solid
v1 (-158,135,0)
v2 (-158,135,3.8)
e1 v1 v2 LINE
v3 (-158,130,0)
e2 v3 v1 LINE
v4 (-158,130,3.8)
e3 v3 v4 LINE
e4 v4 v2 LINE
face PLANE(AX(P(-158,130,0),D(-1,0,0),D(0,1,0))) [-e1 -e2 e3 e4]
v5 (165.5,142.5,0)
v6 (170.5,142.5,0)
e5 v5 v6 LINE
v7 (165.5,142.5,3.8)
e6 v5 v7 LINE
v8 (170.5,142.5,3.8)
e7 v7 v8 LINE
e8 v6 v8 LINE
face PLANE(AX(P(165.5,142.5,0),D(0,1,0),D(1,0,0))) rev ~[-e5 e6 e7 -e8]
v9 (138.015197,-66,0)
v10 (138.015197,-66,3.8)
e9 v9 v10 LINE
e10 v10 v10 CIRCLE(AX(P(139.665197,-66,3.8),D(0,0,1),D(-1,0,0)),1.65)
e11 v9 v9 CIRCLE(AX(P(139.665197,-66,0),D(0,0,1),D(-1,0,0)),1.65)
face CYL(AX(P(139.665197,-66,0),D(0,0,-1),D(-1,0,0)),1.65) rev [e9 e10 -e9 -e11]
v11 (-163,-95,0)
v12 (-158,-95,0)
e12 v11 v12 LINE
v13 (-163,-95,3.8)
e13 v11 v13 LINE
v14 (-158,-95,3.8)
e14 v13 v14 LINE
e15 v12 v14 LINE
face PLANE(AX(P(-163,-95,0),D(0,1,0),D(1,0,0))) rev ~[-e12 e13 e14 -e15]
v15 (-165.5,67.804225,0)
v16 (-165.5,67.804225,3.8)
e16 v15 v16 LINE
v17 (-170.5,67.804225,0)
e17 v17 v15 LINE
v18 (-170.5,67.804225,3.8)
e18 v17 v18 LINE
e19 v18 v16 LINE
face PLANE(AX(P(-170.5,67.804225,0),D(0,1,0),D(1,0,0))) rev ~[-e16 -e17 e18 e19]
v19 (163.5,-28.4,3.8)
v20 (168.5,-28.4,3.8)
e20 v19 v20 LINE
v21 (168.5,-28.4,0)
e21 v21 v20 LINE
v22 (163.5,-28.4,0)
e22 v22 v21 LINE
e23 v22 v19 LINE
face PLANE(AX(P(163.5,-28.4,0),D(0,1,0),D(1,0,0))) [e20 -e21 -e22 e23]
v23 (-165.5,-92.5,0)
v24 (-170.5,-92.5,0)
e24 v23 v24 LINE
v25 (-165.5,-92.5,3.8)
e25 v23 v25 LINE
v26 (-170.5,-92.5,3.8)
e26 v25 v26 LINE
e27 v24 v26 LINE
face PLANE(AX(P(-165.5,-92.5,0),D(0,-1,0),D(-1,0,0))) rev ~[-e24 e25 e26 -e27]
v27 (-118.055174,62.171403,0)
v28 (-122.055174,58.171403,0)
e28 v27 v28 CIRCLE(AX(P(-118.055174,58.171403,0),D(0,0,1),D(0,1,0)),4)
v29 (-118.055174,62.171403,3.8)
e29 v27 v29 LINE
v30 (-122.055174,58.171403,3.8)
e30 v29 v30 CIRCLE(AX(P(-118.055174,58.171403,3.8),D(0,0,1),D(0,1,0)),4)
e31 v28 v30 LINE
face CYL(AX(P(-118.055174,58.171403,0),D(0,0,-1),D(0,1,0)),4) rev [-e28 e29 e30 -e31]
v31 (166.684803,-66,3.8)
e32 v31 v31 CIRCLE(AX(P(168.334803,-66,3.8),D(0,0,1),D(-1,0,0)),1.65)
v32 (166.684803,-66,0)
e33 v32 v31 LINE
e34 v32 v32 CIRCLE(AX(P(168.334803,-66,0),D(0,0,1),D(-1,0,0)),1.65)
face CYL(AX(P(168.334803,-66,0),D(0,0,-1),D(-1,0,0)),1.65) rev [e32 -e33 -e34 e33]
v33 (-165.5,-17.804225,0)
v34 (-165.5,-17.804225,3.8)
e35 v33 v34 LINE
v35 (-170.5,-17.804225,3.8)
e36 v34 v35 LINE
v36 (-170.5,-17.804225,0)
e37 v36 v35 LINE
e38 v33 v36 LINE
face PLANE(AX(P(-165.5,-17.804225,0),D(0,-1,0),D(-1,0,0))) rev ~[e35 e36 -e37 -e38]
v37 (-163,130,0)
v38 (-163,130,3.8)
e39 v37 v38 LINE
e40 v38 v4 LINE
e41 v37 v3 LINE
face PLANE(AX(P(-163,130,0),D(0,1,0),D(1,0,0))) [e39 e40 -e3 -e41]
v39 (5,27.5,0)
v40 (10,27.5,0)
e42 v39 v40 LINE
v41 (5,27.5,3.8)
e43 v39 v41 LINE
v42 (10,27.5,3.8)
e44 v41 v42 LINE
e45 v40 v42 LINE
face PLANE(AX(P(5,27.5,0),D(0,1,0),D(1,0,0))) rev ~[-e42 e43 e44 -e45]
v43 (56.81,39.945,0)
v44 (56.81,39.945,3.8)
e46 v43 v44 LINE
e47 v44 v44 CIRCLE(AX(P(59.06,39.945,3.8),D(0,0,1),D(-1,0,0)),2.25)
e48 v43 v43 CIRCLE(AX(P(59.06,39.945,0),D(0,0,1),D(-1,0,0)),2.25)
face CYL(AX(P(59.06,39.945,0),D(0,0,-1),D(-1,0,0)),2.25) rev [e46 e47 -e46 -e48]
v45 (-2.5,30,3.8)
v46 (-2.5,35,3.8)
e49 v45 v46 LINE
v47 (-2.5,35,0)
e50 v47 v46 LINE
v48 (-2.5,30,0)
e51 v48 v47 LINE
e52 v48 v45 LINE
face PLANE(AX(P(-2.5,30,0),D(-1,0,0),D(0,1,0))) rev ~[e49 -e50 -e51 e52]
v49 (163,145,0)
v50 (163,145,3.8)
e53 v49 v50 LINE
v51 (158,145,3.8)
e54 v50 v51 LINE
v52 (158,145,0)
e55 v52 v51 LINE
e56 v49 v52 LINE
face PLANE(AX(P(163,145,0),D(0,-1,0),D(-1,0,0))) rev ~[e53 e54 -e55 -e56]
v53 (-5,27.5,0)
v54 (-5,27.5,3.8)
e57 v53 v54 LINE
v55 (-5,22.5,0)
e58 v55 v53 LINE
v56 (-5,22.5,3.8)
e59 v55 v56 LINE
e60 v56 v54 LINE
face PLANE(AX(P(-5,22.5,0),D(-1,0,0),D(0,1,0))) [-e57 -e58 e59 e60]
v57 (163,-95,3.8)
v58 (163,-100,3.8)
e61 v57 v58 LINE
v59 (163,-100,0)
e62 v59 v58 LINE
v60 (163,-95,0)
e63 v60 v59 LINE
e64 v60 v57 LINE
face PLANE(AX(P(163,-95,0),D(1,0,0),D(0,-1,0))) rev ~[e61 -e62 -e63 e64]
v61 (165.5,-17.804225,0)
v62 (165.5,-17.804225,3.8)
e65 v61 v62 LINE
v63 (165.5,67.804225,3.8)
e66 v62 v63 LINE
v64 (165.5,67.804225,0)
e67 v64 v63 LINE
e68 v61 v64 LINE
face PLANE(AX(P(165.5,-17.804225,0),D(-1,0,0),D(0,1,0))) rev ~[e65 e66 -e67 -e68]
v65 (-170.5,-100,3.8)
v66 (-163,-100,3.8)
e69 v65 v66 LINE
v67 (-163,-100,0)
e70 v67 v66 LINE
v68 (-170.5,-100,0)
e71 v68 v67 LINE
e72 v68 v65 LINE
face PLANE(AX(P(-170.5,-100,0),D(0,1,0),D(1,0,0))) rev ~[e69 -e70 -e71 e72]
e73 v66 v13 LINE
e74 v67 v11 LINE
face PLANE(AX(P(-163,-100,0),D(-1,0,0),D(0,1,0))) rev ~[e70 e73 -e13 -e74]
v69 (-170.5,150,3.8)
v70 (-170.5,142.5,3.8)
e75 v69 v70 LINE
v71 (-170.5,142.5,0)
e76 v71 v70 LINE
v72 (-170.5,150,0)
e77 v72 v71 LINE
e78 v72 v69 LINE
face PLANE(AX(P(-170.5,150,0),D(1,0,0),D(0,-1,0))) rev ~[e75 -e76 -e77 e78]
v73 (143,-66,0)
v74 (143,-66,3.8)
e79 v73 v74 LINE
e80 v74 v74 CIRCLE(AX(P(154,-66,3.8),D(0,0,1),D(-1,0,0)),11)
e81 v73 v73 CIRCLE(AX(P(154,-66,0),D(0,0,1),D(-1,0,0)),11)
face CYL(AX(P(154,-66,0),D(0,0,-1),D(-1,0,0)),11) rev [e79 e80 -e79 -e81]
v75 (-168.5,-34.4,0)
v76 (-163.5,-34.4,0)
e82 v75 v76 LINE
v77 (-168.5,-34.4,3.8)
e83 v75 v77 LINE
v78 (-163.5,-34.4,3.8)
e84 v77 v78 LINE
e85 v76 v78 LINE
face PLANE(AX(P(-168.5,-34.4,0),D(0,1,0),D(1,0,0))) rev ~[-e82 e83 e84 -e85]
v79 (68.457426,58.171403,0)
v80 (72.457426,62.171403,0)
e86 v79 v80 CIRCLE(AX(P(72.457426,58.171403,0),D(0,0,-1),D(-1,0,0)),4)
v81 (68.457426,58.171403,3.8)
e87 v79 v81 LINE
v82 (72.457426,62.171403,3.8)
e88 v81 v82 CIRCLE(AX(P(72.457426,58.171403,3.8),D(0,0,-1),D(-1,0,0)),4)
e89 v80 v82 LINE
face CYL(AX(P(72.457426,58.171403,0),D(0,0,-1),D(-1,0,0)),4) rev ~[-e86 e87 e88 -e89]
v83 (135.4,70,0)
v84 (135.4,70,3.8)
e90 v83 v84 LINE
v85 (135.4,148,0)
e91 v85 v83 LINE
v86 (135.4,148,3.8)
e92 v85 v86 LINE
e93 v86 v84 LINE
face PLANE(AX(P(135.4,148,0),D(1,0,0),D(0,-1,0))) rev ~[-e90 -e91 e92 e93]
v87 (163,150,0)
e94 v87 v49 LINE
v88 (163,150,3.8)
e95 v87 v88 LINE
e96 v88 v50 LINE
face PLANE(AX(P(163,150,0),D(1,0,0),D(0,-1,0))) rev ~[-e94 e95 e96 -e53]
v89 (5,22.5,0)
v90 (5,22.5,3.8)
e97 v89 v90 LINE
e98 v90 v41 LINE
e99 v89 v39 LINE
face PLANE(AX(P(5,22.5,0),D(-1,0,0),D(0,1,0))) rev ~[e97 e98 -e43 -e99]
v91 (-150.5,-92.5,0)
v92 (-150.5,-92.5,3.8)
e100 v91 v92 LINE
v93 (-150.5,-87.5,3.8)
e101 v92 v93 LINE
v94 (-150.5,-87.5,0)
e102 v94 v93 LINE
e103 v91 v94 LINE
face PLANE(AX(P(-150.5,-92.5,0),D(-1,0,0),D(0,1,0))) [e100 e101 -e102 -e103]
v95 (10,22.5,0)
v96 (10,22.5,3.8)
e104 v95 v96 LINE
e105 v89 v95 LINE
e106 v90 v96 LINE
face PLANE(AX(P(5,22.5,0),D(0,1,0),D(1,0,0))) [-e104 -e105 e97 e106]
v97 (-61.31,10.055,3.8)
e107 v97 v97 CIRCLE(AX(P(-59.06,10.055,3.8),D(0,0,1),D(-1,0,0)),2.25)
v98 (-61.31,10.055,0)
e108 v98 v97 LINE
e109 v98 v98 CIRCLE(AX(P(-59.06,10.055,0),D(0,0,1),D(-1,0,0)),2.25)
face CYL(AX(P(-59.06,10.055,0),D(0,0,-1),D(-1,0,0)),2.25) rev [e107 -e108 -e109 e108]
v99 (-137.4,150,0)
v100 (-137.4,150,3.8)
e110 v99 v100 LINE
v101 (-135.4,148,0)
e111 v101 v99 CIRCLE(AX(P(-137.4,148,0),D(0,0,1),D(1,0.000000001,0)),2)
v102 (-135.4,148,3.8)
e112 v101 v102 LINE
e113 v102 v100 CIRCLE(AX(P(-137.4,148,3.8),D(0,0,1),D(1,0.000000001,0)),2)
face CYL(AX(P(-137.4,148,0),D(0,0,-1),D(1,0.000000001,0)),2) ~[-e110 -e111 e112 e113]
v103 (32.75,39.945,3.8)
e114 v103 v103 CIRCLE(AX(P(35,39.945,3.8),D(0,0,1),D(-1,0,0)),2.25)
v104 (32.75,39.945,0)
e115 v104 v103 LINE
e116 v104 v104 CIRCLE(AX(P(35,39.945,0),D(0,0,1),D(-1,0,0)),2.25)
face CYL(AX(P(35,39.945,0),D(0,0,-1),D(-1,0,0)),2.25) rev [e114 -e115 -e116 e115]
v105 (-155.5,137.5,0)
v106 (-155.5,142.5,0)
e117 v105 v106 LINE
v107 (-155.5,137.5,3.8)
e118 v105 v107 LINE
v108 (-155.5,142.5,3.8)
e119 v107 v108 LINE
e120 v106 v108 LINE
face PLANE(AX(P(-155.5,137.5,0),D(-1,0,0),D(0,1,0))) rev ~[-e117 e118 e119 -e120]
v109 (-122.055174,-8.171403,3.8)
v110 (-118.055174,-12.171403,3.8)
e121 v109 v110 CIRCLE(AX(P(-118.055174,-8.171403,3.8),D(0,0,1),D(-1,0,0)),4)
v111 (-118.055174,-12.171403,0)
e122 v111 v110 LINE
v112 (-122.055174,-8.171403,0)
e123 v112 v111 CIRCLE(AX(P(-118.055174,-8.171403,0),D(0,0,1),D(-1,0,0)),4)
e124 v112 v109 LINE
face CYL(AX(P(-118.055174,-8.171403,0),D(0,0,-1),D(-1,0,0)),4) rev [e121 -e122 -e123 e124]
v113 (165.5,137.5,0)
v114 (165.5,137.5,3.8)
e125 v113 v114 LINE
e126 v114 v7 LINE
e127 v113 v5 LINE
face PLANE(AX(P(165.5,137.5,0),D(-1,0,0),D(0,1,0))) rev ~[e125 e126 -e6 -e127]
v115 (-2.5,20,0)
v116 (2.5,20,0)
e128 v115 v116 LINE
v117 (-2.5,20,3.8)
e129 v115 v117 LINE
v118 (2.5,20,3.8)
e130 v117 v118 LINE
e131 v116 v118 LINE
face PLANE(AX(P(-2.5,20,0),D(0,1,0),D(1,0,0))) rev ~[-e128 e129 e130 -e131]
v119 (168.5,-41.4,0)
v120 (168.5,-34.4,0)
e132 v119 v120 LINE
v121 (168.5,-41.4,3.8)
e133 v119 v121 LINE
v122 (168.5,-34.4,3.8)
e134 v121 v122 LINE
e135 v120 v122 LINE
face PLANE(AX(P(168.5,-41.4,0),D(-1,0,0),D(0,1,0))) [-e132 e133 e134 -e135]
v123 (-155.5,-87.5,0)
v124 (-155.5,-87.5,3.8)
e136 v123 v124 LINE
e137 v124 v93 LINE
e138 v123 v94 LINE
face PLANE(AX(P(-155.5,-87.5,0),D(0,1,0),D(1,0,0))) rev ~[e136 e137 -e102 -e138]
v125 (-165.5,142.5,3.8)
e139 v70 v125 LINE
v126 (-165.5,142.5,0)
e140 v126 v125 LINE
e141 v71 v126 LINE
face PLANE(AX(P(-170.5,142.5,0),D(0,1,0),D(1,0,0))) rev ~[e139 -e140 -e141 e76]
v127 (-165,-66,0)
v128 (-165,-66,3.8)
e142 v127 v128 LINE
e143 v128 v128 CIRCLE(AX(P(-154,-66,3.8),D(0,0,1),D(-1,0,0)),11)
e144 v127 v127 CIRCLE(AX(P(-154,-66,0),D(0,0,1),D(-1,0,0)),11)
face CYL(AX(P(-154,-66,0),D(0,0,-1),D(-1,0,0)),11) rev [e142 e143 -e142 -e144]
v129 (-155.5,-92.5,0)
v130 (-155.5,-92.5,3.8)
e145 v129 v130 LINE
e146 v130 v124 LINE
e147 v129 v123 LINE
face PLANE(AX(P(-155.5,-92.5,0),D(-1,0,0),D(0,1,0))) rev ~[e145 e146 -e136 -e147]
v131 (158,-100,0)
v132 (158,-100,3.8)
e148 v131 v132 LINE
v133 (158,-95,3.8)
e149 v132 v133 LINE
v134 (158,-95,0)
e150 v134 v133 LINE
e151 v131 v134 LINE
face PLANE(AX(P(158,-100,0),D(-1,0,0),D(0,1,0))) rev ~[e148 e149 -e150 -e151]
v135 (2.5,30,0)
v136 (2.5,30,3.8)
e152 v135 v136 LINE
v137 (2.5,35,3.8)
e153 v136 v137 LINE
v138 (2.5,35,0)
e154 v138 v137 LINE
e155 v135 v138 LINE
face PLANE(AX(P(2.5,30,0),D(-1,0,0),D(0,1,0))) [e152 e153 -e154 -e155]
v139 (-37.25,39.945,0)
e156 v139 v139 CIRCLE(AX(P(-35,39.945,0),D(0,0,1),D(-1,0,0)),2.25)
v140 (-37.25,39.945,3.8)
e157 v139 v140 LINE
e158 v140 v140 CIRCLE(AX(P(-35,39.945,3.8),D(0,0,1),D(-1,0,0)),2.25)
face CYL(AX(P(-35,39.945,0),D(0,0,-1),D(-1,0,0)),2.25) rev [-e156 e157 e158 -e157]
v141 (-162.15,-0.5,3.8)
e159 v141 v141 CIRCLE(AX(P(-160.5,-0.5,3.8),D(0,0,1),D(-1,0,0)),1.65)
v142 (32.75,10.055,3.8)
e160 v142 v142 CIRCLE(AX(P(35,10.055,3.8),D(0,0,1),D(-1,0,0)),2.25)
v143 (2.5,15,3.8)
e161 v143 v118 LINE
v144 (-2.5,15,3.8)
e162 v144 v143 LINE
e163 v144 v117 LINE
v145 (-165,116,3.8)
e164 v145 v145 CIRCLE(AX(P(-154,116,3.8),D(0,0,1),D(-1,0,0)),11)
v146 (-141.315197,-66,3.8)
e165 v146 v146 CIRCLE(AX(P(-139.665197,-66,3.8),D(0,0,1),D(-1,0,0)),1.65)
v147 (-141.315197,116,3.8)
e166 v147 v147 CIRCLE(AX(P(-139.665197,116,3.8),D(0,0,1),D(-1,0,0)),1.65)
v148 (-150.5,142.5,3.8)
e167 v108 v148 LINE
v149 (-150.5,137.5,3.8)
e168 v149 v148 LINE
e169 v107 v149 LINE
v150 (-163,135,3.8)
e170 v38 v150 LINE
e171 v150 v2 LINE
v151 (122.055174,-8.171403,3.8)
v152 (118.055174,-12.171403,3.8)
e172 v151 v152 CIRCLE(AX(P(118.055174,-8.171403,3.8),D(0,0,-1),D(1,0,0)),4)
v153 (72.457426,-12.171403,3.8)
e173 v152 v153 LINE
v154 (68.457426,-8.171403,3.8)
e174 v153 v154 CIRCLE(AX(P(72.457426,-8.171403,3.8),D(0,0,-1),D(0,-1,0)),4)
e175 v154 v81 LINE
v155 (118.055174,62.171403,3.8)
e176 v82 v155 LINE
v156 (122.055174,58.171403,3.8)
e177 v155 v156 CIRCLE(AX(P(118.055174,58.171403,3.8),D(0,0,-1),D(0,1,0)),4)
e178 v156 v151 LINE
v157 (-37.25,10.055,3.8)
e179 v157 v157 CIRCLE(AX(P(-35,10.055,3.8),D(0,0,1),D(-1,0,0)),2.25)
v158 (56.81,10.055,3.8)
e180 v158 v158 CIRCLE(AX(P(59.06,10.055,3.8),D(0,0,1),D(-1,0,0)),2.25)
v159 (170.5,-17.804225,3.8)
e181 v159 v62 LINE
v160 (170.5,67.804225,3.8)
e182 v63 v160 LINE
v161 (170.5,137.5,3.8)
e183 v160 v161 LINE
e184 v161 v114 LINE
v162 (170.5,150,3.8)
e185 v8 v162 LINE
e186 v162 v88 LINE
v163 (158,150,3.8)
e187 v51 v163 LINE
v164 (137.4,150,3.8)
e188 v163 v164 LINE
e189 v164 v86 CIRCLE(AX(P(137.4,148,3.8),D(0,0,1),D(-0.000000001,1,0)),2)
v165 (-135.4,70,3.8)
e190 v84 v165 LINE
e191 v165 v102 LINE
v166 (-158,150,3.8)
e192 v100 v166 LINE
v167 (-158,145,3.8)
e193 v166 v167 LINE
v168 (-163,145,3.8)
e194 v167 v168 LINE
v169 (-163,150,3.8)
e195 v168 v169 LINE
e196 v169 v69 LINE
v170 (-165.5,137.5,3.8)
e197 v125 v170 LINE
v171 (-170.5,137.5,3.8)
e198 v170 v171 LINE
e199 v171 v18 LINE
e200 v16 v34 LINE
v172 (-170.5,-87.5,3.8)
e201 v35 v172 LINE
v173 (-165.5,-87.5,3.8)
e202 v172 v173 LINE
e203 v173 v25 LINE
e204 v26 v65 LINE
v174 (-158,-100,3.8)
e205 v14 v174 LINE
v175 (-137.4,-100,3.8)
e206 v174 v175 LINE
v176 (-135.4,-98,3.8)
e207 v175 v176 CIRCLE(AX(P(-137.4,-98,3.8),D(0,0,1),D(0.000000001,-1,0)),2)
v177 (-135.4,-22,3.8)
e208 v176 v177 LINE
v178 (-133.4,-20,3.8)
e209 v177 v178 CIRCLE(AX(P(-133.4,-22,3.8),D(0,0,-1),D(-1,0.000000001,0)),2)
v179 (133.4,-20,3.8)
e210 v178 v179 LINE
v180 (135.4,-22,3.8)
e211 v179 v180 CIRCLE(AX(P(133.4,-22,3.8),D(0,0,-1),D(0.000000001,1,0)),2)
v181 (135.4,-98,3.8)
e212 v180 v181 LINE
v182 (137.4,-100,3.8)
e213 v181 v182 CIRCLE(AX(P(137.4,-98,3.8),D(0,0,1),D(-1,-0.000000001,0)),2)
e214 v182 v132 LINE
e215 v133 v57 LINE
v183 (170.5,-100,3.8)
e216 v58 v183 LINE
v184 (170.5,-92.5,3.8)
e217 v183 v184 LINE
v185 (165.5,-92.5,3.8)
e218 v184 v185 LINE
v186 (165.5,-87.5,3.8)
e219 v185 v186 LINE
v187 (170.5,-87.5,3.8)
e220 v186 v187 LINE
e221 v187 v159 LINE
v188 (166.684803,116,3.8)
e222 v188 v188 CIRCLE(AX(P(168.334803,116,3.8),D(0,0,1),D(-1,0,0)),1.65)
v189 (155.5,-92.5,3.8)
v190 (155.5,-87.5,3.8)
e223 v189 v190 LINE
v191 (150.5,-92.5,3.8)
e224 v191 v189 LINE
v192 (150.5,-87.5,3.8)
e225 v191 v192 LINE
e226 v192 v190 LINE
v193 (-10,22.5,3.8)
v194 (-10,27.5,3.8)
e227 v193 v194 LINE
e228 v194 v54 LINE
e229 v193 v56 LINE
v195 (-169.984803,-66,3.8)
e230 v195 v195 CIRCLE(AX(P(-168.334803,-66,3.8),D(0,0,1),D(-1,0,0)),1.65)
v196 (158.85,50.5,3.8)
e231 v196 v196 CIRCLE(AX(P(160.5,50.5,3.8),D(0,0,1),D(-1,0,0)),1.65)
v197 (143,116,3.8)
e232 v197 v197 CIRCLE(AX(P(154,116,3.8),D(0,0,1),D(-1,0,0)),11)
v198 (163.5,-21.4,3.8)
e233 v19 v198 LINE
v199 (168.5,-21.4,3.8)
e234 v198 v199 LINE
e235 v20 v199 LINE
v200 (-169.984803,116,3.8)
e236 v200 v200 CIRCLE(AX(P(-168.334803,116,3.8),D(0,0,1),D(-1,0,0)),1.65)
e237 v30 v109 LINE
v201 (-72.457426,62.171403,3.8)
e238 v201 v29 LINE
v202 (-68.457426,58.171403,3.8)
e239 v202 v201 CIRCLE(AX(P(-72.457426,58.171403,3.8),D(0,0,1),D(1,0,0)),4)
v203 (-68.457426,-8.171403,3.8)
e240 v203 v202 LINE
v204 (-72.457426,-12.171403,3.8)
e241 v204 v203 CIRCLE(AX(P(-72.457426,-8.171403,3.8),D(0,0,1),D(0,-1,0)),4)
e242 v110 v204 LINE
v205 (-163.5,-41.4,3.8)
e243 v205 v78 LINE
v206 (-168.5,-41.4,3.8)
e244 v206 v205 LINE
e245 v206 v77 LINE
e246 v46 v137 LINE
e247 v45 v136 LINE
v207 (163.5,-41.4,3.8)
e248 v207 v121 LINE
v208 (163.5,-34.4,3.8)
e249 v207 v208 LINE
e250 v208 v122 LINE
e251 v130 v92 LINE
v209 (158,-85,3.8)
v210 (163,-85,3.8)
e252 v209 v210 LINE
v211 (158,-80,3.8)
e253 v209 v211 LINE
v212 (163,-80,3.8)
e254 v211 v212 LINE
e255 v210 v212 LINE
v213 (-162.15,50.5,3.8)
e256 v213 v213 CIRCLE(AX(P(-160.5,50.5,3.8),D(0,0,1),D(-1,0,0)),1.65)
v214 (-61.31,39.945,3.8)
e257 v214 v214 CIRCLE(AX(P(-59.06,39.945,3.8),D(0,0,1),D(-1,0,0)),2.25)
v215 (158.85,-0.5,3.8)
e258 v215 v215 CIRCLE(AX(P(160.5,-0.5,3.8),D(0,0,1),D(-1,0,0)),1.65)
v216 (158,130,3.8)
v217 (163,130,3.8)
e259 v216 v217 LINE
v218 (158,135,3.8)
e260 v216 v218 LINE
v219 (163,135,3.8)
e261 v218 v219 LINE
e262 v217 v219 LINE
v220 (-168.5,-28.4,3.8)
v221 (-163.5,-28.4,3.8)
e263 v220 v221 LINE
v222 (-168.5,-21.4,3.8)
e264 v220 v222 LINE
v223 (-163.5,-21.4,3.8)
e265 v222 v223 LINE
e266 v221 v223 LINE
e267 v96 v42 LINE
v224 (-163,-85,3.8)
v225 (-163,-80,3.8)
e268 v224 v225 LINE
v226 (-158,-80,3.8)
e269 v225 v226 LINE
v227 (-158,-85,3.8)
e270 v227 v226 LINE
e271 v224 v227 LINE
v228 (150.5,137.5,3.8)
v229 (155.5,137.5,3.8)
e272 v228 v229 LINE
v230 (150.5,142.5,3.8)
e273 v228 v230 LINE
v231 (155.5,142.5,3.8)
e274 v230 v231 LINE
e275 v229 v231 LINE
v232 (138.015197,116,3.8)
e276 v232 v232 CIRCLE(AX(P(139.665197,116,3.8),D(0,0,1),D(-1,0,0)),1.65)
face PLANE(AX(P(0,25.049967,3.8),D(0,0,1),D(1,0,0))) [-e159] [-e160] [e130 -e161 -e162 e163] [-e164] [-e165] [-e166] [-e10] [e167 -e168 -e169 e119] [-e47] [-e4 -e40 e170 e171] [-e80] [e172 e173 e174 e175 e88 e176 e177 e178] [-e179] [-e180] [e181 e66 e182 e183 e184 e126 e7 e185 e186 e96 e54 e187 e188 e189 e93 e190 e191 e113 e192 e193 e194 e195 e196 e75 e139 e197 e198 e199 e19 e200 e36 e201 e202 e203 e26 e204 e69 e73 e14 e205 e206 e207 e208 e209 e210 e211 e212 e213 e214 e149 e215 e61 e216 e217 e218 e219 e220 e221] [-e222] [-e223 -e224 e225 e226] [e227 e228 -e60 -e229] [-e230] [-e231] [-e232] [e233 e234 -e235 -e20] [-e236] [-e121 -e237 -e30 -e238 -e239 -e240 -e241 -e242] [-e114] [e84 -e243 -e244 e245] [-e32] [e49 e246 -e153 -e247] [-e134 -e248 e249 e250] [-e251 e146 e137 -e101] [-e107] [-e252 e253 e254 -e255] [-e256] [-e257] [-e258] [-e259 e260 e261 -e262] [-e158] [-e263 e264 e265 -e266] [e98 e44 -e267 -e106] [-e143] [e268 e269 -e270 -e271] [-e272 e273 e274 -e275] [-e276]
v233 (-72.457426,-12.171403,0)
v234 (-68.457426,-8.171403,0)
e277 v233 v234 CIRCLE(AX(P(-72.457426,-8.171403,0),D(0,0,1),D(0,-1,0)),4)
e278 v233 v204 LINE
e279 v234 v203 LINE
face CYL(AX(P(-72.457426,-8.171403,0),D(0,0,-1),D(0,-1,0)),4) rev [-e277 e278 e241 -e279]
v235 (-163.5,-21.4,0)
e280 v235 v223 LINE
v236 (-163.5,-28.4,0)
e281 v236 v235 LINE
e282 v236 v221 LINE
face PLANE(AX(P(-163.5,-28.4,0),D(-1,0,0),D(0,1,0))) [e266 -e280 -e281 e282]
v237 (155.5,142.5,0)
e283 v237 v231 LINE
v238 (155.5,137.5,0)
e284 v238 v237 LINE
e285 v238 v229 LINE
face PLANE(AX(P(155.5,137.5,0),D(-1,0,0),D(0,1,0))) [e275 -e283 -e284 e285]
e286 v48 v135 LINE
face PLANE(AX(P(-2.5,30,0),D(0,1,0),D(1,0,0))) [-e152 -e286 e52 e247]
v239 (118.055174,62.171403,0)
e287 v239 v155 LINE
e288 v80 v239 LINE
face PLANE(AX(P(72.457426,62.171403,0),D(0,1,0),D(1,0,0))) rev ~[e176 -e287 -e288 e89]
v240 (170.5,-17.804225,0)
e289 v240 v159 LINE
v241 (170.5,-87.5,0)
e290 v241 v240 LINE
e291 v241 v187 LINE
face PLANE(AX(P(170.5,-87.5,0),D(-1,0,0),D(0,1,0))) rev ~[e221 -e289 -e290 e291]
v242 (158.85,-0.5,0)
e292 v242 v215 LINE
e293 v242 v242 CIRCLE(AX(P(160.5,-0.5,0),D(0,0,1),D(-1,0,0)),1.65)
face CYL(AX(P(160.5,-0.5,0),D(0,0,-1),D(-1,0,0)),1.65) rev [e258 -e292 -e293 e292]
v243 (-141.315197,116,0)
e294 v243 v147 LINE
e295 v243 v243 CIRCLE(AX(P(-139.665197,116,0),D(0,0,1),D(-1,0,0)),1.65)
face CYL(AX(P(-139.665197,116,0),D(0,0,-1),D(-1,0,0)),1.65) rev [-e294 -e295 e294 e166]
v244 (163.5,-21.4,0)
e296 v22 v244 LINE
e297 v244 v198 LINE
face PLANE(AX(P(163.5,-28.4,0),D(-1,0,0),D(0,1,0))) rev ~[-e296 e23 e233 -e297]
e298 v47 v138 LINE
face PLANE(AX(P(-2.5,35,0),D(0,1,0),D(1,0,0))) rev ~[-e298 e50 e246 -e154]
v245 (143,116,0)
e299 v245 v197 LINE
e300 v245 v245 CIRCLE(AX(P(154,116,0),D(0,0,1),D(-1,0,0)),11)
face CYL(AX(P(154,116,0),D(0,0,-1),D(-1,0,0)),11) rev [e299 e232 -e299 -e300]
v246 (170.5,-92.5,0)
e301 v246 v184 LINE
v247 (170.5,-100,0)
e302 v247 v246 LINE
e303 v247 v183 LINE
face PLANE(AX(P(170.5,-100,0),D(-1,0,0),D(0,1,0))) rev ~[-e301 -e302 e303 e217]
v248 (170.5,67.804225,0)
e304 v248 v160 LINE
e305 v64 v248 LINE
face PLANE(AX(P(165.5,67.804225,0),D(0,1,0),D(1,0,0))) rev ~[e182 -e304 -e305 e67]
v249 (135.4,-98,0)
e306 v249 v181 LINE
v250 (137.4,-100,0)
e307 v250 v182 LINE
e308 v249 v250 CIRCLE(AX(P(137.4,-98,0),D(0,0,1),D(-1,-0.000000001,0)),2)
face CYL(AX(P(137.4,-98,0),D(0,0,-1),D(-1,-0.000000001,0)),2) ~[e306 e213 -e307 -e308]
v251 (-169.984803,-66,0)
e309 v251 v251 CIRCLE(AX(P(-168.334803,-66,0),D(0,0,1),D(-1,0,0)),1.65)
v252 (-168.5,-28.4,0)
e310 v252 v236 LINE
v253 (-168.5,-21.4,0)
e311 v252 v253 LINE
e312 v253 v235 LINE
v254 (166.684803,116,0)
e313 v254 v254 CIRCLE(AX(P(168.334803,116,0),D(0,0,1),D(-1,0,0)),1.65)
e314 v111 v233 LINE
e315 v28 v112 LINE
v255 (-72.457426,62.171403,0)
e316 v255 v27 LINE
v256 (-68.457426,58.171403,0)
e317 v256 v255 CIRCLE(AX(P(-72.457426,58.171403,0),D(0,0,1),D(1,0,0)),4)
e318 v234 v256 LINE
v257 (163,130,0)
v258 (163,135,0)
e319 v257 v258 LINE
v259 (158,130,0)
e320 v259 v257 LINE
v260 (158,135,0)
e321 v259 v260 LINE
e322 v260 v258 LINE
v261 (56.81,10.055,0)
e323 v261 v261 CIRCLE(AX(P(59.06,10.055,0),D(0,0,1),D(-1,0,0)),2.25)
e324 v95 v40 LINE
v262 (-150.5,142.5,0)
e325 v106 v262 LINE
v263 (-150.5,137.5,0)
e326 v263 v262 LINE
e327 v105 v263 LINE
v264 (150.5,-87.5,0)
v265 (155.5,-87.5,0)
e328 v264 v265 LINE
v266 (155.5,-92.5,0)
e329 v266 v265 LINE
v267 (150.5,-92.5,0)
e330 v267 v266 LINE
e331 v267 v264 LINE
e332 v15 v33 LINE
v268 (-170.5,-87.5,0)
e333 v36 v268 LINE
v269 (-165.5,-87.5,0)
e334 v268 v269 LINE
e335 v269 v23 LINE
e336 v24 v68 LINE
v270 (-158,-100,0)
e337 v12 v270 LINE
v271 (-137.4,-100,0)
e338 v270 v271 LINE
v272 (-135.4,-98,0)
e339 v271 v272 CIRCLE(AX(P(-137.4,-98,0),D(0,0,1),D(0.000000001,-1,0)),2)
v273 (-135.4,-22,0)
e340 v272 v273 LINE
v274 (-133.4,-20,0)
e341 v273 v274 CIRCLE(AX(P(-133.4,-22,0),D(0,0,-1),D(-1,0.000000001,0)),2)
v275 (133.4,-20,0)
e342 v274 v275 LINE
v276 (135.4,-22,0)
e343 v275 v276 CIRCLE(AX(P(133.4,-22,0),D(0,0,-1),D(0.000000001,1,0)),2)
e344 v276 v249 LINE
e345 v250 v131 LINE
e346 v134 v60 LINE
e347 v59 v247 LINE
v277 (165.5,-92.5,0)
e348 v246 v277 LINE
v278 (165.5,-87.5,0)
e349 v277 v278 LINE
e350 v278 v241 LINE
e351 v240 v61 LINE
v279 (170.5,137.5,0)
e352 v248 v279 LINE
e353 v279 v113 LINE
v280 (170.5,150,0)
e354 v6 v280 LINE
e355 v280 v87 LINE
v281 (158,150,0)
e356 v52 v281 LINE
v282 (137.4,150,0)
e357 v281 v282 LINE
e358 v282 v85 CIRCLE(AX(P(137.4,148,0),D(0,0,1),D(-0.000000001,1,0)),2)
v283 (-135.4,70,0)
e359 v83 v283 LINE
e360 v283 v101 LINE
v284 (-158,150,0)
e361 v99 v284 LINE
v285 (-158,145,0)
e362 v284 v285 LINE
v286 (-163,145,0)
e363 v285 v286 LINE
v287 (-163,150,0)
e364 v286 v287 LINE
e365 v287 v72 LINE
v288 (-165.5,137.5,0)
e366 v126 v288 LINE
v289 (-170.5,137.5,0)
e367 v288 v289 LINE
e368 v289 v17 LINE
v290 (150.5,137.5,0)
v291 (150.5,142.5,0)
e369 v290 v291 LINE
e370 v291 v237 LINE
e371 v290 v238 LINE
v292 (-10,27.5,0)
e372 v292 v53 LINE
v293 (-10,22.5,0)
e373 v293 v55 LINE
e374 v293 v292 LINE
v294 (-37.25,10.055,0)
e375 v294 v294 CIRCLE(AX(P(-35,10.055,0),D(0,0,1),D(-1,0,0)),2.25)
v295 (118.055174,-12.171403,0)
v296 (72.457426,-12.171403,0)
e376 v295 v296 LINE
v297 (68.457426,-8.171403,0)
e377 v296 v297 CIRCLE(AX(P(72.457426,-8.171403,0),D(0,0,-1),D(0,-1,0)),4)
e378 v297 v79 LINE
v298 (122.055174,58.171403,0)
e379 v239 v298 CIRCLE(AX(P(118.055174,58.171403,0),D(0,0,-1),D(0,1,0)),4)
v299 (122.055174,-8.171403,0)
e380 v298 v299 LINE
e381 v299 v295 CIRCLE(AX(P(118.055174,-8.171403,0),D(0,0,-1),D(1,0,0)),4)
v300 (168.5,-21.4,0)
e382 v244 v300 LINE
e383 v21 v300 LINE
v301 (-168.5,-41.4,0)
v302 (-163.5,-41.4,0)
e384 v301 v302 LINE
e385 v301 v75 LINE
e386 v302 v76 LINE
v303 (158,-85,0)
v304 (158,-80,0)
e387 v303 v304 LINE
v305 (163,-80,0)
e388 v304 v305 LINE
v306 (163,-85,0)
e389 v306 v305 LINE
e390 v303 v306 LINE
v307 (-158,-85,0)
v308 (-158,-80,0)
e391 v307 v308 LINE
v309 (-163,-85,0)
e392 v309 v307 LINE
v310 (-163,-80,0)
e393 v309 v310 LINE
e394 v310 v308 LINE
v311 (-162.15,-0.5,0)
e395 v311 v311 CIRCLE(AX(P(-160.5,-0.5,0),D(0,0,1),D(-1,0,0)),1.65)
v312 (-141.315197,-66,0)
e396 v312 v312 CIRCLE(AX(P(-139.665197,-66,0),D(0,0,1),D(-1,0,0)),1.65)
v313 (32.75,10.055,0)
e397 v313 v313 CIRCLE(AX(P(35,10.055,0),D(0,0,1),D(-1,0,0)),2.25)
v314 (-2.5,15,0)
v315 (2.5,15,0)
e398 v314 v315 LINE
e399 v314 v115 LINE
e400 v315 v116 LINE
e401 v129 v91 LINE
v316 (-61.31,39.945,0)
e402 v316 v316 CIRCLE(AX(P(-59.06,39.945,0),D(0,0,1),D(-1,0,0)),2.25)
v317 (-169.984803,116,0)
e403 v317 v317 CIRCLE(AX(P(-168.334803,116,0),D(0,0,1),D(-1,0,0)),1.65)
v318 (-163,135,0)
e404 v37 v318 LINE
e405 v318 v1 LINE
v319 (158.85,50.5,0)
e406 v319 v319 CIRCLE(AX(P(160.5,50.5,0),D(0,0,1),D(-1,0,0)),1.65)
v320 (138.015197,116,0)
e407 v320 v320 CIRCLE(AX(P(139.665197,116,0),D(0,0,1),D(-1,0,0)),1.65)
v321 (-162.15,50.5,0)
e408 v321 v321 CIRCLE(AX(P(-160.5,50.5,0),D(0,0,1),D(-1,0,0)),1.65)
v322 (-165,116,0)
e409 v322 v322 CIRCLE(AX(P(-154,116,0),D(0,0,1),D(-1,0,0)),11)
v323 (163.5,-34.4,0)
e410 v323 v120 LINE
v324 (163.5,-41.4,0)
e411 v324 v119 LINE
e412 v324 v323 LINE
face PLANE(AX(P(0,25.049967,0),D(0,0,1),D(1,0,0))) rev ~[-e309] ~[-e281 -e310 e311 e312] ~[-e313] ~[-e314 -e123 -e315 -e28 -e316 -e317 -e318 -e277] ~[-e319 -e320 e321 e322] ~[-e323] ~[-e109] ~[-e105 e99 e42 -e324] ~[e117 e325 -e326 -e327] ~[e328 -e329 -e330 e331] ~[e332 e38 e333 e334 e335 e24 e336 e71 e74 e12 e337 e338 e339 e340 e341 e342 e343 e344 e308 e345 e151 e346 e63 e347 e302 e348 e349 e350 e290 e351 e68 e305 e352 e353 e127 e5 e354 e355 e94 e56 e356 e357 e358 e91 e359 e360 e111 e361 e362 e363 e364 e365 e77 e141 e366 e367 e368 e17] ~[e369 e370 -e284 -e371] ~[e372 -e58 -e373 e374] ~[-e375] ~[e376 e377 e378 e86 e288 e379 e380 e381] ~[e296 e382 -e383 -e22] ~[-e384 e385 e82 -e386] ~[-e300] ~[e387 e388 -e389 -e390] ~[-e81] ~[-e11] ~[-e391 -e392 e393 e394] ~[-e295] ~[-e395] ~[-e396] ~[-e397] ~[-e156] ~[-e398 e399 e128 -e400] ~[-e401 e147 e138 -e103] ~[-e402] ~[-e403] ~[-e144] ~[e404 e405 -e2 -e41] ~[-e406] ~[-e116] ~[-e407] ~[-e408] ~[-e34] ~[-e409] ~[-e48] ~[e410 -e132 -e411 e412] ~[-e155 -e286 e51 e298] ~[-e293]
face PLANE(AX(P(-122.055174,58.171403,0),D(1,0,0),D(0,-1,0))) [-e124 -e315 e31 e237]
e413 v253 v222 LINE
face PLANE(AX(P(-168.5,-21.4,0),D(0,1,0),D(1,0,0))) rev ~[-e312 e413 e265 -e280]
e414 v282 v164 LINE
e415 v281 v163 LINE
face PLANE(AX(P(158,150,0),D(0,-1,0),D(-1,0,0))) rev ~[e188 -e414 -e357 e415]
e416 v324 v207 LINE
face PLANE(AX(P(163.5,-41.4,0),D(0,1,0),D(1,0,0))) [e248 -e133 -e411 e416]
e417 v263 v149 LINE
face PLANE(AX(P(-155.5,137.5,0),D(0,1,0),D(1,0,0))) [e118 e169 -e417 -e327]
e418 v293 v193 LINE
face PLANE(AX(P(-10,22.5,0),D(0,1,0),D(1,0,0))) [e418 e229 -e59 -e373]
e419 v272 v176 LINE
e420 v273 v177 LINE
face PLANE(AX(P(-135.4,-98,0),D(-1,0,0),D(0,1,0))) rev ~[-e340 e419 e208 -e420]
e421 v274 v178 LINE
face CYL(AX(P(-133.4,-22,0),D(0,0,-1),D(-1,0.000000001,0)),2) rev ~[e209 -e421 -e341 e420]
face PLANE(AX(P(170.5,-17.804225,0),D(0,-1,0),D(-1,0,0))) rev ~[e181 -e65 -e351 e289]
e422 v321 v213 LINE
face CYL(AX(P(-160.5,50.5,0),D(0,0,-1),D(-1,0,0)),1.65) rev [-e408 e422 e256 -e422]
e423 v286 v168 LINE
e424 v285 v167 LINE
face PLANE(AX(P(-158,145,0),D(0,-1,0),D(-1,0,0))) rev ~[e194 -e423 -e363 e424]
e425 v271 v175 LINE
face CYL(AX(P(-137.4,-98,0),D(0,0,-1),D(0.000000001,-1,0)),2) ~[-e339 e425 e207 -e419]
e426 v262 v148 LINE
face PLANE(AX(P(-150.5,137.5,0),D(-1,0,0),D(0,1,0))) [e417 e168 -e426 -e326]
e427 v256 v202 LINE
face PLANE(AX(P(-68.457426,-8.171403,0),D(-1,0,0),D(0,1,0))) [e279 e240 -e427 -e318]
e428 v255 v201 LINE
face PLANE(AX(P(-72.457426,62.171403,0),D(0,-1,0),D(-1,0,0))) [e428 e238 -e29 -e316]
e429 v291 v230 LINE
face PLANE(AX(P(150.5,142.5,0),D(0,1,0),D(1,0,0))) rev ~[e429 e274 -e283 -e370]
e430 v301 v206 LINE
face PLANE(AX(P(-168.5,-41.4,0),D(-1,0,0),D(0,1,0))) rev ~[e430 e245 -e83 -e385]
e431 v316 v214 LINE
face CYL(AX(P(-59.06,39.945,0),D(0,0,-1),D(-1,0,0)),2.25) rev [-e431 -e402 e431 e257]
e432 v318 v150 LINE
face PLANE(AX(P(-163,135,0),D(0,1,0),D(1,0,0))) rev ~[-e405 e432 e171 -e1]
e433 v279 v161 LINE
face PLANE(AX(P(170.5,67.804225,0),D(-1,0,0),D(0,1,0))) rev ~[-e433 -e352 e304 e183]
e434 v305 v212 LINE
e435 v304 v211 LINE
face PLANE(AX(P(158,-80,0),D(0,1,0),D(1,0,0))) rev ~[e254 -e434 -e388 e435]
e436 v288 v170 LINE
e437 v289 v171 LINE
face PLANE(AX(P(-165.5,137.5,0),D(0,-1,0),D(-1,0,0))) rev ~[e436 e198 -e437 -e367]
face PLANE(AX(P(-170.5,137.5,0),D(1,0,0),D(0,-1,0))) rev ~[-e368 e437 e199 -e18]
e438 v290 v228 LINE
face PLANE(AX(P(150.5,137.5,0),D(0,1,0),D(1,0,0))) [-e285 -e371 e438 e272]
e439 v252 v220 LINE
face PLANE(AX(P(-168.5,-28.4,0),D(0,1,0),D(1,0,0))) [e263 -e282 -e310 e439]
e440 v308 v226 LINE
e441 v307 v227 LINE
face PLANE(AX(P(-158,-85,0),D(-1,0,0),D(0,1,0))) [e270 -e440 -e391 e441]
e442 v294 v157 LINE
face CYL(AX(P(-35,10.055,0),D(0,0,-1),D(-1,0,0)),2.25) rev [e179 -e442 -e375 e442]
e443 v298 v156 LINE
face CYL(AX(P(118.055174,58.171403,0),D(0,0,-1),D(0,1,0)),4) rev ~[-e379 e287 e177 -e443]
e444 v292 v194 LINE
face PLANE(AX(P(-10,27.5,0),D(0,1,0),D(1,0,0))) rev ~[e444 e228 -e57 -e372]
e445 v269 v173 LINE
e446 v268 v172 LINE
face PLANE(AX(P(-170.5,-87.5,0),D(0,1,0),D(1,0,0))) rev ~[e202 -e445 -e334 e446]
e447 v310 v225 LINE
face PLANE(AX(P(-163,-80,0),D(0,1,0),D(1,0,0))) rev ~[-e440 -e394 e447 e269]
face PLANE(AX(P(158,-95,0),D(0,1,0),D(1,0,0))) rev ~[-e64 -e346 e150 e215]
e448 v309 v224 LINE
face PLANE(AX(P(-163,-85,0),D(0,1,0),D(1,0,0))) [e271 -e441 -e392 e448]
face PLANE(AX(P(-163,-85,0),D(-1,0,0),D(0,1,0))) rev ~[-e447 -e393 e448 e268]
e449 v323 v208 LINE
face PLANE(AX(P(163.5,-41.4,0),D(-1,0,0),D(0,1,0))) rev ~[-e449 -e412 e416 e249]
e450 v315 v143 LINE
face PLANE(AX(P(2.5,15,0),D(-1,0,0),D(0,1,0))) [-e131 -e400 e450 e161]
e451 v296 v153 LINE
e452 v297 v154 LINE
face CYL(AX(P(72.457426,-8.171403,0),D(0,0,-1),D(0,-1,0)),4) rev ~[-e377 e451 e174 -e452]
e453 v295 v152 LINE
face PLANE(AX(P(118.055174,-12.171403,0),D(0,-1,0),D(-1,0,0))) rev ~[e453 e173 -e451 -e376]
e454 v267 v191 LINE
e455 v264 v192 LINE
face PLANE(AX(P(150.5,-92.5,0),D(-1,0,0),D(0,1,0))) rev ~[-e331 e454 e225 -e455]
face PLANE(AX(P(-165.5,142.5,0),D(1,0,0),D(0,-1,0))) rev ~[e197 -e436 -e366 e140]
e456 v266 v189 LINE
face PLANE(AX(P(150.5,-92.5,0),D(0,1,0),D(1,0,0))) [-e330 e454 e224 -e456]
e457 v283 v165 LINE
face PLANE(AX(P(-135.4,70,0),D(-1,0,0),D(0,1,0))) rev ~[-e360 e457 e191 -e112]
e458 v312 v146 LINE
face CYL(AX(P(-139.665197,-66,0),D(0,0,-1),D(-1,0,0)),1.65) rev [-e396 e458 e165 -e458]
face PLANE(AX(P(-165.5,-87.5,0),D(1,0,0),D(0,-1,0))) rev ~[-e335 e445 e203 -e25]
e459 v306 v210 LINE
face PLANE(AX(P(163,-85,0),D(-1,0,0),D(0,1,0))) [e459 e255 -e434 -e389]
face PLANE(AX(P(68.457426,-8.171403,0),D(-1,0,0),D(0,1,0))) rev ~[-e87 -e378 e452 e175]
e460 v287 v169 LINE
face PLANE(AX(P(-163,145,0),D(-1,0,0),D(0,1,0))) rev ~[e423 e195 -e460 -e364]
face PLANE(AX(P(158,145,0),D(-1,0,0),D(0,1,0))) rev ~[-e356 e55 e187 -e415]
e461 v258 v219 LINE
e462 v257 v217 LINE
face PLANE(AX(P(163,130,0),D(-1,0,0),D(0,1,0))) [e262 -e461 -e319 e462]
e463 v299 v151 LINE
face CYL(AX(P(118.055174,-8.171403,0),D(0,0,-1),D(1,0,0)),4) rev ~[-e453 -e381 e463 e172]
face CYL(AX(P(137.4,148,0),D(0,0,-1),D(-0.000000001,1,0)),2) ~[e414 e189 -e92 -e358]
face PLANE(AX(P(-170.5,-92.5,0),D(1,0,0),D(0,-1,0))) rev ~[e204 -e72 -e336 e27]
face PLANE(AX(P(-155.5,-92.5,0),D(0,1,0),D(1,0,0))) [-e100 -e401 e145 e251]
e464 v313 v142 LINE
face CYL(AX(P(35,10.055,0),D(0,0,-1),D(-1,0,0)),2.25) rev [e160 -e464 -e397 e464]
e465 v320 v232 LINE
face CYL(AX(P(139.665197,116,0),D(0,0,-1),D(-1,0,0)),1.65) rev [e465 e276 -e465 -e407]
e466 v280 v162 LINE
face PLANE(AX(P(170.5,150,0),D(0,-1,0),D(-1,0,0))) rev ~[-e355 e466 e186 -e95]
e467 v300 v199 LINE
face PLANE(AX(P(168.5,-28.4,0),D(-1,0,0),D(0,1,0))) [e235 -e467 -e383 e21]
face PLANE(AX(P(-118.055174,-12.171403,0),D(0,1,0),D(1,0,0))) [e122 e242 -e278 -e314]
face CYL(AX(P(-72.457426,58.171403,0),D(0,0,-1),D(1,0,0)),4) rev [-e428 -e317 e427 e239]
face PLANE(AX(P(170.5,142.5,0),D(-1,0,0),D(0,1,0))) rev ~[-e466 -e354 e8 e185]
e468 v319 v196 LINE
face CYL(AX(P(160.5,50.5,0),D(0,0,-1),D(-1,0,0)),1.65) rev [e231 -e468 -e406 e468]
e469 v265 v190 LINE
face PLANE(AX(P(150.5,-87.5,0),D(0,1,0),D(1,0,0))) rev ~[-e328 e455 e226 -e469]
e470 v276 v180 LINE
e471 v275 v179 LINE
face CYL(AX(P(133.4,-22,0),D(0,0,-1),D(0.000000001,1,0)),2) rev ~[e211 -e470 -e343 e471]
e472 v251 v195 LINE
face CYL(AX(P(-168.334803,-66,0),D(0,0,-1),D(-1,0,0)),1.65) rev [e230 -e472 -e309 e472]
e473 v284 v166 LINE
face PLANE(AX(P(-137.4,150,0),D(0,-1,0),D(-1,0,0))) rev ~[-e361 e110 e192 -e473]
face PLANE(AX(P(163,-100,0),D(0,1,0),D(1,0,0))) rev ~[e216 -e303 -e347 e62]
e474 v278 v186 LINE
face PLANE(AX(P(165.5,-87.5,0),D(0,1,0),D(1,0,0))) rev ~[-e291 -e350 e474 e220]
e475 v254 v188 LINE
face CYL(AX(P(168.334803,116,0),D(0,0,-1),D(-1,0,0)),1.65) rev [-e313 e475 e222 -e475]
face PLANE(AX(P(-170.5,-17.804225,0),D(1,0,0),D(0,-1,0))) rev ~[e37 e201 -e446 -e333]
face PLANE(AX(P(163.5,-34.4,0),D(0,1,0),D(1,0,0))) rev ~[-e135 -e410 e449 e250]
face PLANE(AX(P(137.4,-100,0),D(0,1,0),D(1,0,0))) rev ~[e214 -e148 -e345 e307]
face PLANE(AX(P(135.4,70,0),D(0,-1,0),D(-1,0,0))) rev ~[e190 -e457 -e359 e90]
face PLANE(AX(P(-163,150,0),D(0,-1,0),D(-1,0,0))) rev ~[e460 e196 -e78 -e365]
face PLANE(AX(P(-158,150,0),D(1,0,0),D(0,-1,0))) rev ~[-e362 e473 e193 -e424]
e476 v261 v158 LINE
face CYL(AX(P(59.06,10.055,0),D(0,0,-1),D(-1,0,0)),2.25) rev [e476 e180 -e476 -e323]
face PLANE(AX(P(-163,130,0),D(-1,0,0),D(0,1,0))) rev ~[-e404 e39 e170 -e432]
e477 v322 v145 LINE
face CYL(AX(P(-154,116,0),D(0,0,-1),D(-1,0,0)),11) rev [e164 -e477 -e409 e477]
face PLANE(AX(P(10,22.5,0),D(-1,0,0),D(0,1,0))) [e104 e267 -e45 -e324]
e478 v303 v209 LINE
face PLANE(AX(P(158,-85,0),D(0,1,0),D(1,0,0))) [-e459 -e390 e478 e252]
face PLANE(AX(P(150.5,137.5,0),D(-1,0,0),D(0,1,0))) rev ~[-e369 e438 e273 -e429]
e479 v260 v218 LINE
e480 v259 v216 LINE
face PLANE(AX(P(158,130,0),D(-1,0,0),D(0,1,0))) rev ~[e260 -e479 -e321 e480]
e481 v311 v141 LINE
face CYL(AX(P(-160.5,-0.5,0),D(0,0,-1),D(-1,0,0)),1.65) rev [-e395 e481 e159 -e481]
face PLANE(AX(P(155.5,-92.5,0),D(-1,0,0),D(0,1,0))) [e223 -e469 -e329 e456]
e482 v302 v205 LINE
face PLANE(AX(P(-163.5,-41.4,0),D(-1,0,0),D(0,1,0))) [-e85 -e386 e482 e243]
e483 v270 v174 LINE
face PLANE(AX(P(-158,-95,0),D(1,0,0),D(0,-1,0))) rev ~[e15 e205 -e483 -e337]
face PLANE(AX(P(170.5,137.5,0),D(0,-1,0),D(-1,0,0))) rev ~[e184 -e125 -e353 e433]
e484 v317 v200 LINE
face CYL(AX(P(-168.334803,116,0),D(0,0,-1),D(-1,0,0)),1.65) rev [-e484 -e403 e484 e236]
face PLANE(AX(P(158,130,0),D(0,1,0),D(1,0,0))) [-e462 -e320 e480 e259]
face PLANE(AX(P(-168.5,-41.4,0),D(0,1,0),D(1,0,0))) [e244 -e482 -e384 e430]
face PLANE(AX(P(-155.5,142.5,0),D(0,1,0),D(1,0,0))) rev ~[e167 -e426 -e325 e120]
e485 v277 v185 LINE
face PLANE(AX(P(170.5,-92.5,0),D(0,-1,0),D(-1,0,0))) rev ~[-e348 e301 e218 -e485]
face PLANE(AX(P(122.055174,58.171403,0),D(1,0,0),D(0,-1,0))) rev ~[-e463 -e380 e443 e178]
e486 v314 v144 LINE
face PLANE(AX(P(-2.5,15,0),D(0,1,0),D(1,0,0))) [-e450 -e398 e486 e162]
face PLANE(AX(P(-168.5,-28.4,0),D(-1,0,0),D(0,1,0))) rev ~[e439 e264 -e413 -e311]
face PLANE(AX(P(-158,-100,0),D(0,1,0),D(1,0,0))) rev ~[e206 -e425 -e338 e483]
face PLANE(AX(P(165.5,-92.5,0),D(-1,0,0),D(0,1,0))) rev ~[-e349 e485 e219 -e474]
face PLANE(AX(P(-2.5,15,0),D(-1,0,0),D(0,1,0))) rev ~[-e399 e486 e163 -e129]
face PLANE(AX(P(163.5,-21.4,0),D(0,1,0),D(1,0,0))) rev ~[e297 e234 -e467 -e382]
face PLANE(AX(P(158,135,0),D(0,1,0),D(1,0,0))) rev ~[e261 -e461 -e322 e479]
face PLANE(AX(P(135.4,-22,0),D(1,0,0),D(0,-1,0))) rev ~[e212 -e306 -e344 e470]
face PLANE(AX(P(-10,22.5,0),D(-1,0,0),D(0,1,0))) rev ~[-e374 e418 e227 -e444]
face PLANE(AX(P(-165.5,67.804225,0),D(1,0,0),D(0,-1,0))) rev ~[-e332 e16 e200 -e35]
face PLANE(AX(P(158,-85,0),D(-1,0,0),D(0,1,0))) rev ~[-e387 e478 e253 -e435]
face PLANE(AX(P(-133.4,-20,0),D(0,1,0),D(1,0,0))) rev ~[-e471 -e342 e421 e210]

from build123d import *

# Parameters (mm, degrees)
SKETCH2_R           = 1.65
SKETCH2_R_2         = 11
SKETCH2_R_3         = 2.25
SKETCH2_W           = 5
SKETCH2_H           = 5
SKETCH2_H_2         = 7
BOSS_EXTRUDE1_DEPTH = 3.8


with BuildPart() as part:
    # Sketch2 → Boss-Extrude1 (new body)
    with BuildSketch(Plane.XY):
        with BuildLine():
            Line((-170.5, -100), (-163, -100))
            Line((-163, -100), (-163, -95))
            Line((-163, -95), (-158, -95))
            Line((-158, -95), (-158, -100))
            Line((-158, -100), (-137.4, -100))
            ThreePointArc((-137.4, -100), (-135.985786438, -99.414213562), (-135.4, -98))
            Line((-135.4, -98), (-135.4, -22))
            ThreePointArc((-135.4, -22), (-134.814213562, -20.585786438), (-133.4, -20))
            Line((-133.4, -20), (133.4, -20))
            ThreePointArc((133.4, -20), (134.814213562, -20.585786438), (135.4, -22))
            Line((135.4, -22), (135.4, -98))
            ThreePointArc((135.4, -98), (135.985786438, -99.414213562), (137.4, -100))
            Line((137.4, -100), (158, -100))
            Line((158, -100), (158, -95))
            Line((158, -95), (163, -95))
            Line((163, -95), (163, -100))
            Line((163, -100), (170.5, -100))
            Line((170.5, -100), (170.5, -92.5))
            Line((170.5, -92.5), (165.5, -92.5))
            Line((165.5, -92.5), (165.5, -87.5))
            Line((165.5, -87.5), (170.5, -87.5))
            Line((170.5, -87.5), (170.5, -17.8042249))
            Line((170.5, -17.8042249), (165.5, -17.8042249))
            Line((165.5, -17.8042249), (165.5, 67.8042249))
            Line((165.5, 67.8042249), (170.5, 67.8042249))
            Line((170.5, 67.8042249), (170.5, 137.5))
            Line((170.5, 137.5), (165.5, 137.5))
            Line((165.5, 137.5), (165.5, 142.5))
            Line((165.5, 142.5), (170.5, 142.5))
            Line((170.5, 142.5), (170.5, 150))
            Line((170.5, 150), (163, 150))
            Line((163, 150), (163, 145))
            Line((163, 145), (158, 145))
            Line((158, 145), (158, 150))
            Line((158, 150), (137.4, 150))
            ThreePointArc((137.4, 150), (135.985786438, 149.414213562), (135.4, 148))
            Line((135.4, 148), (135.4, 70))
            Line((135.4, 70), (-135.4, 70))
            Line((-135.4, 70), (-135.4, 148))
            ThreePointArc((-135.4, 148), (-135.985786438, 149.414213562), (-137.4, 150))
            Line((-137.4, 150), (-158, 150))
            Line((-158, 150), (-158, 145))
            Line((-158, 145), (-163, 145))
            Line((-163, 145), (-163, 150))
            Line((-163, 150), (-170.5, 150))
            Line((-170.5, 150), (-170.5, 142.5))
            Line((-170.5, 142.5), (-165.5, 142.5))
            Line((-165.5, 142.5), (-165.5, 137.5))
            Line((-165.5, 137.5), (-170.5, 137.5))
            Line((-170.5, 137.5), (-170.5, 67.8042249))
            Line((-170.5, 67.8042249), (-165.5, 67.8042249))
            Line((-165.5, 67.8042249), (-165.5, -17.8042249))
            Line((-165.5, -17.8042249), (-170.5, -17.8042249))
            Line((-170.5, -17.8042249), (-170.5, -87.5))
            Line((-170.5, -87.5), (-165.5, -87.5))
            Line((-165.5, -87.5), (-165.5, -92.5))
            Line((-165.5, -92.5), (-170.5, -92.5))
            Line((-170.5, -92.5), (-170.5, -100))
        make_face()
        with Locations(Location((-168.334802826, 116, 0), (0, 0, 180))):
            Circle(SKETCH2_R, mode=Mode.SUBTRACT)
        with Locations(Location((-139.665197174, 116, 0), (0, 0, 180))):
            Circle(SKETCH2_R, mode=Mode.SUBTRACT)
        with Locations(Location((168.334802826, 116, 0), (0, 0, 180))):
            Circle(SKETCH2_R, mode=Mode.SUBTRACT)
        with Locations(Location((139.665197174, 116, 0), (0, 0, 180))):
            Circle(SKETCH2_R, mode=Mode.SUBTRACT)
        with Locations(Location((154, 116, 0), (0, 0, 180))):
            Circle(SKETCH2_R_2, mode=Mode.SUBTRACT)
        with Locations(Location((-154, 116, 0), (0, 0, 180))):
            Circle(SKETCH2_R_2, mode=Mode.SUBTRACT)
        with Locations(Location((160.5, -0.5, 0), (0, 0, 180))):
            Circle(SKETCH2_R, mode=Mode.SUBTRACT)
        with Locations(Location((160.5, 50.5, 0), (0, 0, 180))):
            Circle(SKETCH2_R, mode=Mode.SUBTRACT)
        with Locations(Location((-160.5, -0.5, 0), (0, 0, 180))):
            Circle(SKETCH2_R, mode=Mode.SUBTRACT)
        with Locations(Location((-160.5, 50.5, 0), (0, 0, 180))):
            Circle(SKETCH2_R, mode=Mode.SUBTRACT)
        with Locations(Location((-35, 10.055, 0), (0, 0, 180))):
            Circle(SKETCH2_R_3, mode=Mode.SUBTRACT)
        with Locations(Location((-35, 39.945, 0), (0, 0, 180))):
            Circle(SKETCH2_R_3, mode=Mode.SUBTRACT)
        with Locations(Location((-59.06, 39.945, 0), (0, 0, 180))):
            Circle(SKETCH2_R_3, mode=Mode.SUBTRACT)
        with Locations(Location((-59.06, 10.055, 0), (0, 0, 180))):
            Circle(SKETCH2_R_3, mode=Mode.SUBTRACT)
        with Locations(Location((59.06, 10.055, 0), (0, 0, 180))):
            Circle(SKETCH2_R_3, mode=Mode.SUBTRACT)
        with Locations(Location((35, 10.055, 0), (0, 0, 180))):
            Circle(SKETCH2_R_3, mode=Mode.SUBTRACT)
        with Locations(Location((35, 39.945, 0), (0, 0, 180))):
            Circle(SKETCH2_R_3, mode=Mode.SUBTRACT)
        with Locations(Location((59.06, 39.945, 0), (0, 0, 180))):
            Circle(SKETCH2_R_3, mode=Mode.SUBTRACT)
        with Locations(Location((168.334802826, -66, 0), (0, 0, 180))):
            Circle(SKETCH2_R, mode=Mode.SUBTRACT)
        with Locations(Location((139.665197174, -66, 0), (0, 0, 180))):
            Circle(SKETCH2_R, mode=Mode.SUBTRACT)
        with Locations(Location((154, -66, 0), (0, 0, 180))):
            Circle(SKETCH2_R_2, mode=Mode.SUBTRACT)
        with Locations(Location((-154, -66, 0), (0, 0, 180))):
            Circle(SKETCH2_R_2, mode=Mode.SUBTRACT)
        with Locations(Location((-139.665197174, -66, 0), (0, 0, 180))):
            Circle(SKETCH2_R, mode=Mode.SUBTRACT)
        with Locations(Location((-168.334802826, -66, 0), (0, 0, 180))):
            Circle(SKETCH2_R, mode=Mode.SUBTRACT)
        with BuildLine():
            Line((-72.45742566, 62.171403079), (-118.05517368, 62.171403079))
            ThreePointArc((-118.05517368, 62.171403079), (-120.883600805, 60.999830204), (-122.05517368, 58.171403079))
            Line((-122.05517368, 58.171403079), (-122.05517368, -8.171403079))
            ThreePointArc((-122.05517368, -8.171403079), (-120.883600805, -10.999830204), (-118.05517368, -12.171403079))
            Line((-118.05517368, -12.171403079), (-72.45742566, -12.171403079))
            ThreePointArc((-72.45742566, -12.171403079), (-69.628998535, -10.999830204), (-68.45742566, -8.171403079))
            Line((-68.45742566, -8.171403079), (-68.45742566, 58.171403079))
            ThreePointArc((-68.45742566, 58.171403079), (-69.628998535, 60.999830204), (-72.45742566, 62.171403079))
        make_face(mode=Mode.SUBTRACT)
        with BuildLine():
            Line((72.45742566, 62.171403079), (118.05517368, 62.171403079))
            ThreePointArc((118.05517368, 62.171403079), (120.883600805, 60.999830204), (122.05517368, 58.171403079))
            Line((122.05517368, 58.171403079), (122.05517368, -8.171403079))
            ThreePointArc((122.05517368, -8.171403079), (120.883600805, -10.999830204), (118.05517368, -12.171403079))
            Line((118.05517368, -12.171403079), (72.45742566, -12.171403079))
            ThreePointArc((72.45742566, -12.171403079), (69.628998535, -10.999830204), (68.45742566, -8.171403079))
            Line((68.45742566, -8.171403079), (68.45742566, 58.171403079))
            ThreePointArc((68.45742566, 58.171403079), (69.628998535, 60.999830204), (72.45742566, 62.171403079))
        make_face(mode=Mode.SUBTRACT)
        with Locations((0, 17.5)):
            Rectangle(SKETCH2_W, SKETCH2_H, mode=Mode.SUBTRACT)
        with Locations((-7.5, 25)):
            Rectangle(SKETCH2_W, SKETCH2_H, mode=Mode.SUBTRACT)
        with Locations((0, 32.5)):
            Rectangle(SKETCH2_W, SKETCH2_H, mode=Mode.SUBTRACT)
        with Locations((7.5, 25)):
            Rectangle(SKETCH2_W, SKETCH2_H, mode=Mode.SUBTRACT)
        with Locations((153, -90)):
            Rectangle(SKETCH2_W, SKETCH2_H, mode=Mode.SUBTRACT)
        with Locations((160.5, -82.5)):
            Rectangle(SKETCH2_W, SKETCH2_H, mode=Mode.SUBTRACT)
        with Locations((-153, -90)):
            Rectangle(SKETCH2_W, SKETCH2_H, mode=Mode.SUBTRACT)
        with Locations((-160.5, -82.5)):
            Rectangle(SKETCH2_W, SKETCH2_H, mode=Mode.SUBTRACT)
        with Locations((160.5, 132.5)):
            Rectangle(SKETCH2_W, SKETCH2_H, mode=Mode.SUBTRACT)
        with Locations((153, 140)):
            Rectangle(SKETCH2_W, SKETCH2_H, mode=Mode.SUBTRACT)
        with Locations((-160.5, 132.5)):
            Rectangle(SKETCH2_W, SKETCH2_H, mode=Mode.SUBTRACT)
        with Locations((-153, 140)):
            Rectangle(SKETCH2_W, SKETCH2_H, mode=Mode.SUBTRACT)
        with Locations((-166, -24.9)):
            Rectangle(SKETCH2_W, SKETCH2_H_2, mode=Mode.SUBTRACT)
        with Locations((-166, -37.9)):
            Rectangle(SKETCH2_W, SKETCH2_H_2, mode=Mode.SUBTRACT)
        with Locations((166, -24.9)):
            Rectangle(SKETCH2_W, SKETCH2_H_2, mode=Mode.SUBTRACT)
        with Locations((166, -37.9)):
            Rectangle(SKETCH2_W, SKETCH2_H_2, mode=Mode.SUBTRACT)
    extrude(amount=BOSS_EXTRUDE1_DEPTH)


solid = part.part
